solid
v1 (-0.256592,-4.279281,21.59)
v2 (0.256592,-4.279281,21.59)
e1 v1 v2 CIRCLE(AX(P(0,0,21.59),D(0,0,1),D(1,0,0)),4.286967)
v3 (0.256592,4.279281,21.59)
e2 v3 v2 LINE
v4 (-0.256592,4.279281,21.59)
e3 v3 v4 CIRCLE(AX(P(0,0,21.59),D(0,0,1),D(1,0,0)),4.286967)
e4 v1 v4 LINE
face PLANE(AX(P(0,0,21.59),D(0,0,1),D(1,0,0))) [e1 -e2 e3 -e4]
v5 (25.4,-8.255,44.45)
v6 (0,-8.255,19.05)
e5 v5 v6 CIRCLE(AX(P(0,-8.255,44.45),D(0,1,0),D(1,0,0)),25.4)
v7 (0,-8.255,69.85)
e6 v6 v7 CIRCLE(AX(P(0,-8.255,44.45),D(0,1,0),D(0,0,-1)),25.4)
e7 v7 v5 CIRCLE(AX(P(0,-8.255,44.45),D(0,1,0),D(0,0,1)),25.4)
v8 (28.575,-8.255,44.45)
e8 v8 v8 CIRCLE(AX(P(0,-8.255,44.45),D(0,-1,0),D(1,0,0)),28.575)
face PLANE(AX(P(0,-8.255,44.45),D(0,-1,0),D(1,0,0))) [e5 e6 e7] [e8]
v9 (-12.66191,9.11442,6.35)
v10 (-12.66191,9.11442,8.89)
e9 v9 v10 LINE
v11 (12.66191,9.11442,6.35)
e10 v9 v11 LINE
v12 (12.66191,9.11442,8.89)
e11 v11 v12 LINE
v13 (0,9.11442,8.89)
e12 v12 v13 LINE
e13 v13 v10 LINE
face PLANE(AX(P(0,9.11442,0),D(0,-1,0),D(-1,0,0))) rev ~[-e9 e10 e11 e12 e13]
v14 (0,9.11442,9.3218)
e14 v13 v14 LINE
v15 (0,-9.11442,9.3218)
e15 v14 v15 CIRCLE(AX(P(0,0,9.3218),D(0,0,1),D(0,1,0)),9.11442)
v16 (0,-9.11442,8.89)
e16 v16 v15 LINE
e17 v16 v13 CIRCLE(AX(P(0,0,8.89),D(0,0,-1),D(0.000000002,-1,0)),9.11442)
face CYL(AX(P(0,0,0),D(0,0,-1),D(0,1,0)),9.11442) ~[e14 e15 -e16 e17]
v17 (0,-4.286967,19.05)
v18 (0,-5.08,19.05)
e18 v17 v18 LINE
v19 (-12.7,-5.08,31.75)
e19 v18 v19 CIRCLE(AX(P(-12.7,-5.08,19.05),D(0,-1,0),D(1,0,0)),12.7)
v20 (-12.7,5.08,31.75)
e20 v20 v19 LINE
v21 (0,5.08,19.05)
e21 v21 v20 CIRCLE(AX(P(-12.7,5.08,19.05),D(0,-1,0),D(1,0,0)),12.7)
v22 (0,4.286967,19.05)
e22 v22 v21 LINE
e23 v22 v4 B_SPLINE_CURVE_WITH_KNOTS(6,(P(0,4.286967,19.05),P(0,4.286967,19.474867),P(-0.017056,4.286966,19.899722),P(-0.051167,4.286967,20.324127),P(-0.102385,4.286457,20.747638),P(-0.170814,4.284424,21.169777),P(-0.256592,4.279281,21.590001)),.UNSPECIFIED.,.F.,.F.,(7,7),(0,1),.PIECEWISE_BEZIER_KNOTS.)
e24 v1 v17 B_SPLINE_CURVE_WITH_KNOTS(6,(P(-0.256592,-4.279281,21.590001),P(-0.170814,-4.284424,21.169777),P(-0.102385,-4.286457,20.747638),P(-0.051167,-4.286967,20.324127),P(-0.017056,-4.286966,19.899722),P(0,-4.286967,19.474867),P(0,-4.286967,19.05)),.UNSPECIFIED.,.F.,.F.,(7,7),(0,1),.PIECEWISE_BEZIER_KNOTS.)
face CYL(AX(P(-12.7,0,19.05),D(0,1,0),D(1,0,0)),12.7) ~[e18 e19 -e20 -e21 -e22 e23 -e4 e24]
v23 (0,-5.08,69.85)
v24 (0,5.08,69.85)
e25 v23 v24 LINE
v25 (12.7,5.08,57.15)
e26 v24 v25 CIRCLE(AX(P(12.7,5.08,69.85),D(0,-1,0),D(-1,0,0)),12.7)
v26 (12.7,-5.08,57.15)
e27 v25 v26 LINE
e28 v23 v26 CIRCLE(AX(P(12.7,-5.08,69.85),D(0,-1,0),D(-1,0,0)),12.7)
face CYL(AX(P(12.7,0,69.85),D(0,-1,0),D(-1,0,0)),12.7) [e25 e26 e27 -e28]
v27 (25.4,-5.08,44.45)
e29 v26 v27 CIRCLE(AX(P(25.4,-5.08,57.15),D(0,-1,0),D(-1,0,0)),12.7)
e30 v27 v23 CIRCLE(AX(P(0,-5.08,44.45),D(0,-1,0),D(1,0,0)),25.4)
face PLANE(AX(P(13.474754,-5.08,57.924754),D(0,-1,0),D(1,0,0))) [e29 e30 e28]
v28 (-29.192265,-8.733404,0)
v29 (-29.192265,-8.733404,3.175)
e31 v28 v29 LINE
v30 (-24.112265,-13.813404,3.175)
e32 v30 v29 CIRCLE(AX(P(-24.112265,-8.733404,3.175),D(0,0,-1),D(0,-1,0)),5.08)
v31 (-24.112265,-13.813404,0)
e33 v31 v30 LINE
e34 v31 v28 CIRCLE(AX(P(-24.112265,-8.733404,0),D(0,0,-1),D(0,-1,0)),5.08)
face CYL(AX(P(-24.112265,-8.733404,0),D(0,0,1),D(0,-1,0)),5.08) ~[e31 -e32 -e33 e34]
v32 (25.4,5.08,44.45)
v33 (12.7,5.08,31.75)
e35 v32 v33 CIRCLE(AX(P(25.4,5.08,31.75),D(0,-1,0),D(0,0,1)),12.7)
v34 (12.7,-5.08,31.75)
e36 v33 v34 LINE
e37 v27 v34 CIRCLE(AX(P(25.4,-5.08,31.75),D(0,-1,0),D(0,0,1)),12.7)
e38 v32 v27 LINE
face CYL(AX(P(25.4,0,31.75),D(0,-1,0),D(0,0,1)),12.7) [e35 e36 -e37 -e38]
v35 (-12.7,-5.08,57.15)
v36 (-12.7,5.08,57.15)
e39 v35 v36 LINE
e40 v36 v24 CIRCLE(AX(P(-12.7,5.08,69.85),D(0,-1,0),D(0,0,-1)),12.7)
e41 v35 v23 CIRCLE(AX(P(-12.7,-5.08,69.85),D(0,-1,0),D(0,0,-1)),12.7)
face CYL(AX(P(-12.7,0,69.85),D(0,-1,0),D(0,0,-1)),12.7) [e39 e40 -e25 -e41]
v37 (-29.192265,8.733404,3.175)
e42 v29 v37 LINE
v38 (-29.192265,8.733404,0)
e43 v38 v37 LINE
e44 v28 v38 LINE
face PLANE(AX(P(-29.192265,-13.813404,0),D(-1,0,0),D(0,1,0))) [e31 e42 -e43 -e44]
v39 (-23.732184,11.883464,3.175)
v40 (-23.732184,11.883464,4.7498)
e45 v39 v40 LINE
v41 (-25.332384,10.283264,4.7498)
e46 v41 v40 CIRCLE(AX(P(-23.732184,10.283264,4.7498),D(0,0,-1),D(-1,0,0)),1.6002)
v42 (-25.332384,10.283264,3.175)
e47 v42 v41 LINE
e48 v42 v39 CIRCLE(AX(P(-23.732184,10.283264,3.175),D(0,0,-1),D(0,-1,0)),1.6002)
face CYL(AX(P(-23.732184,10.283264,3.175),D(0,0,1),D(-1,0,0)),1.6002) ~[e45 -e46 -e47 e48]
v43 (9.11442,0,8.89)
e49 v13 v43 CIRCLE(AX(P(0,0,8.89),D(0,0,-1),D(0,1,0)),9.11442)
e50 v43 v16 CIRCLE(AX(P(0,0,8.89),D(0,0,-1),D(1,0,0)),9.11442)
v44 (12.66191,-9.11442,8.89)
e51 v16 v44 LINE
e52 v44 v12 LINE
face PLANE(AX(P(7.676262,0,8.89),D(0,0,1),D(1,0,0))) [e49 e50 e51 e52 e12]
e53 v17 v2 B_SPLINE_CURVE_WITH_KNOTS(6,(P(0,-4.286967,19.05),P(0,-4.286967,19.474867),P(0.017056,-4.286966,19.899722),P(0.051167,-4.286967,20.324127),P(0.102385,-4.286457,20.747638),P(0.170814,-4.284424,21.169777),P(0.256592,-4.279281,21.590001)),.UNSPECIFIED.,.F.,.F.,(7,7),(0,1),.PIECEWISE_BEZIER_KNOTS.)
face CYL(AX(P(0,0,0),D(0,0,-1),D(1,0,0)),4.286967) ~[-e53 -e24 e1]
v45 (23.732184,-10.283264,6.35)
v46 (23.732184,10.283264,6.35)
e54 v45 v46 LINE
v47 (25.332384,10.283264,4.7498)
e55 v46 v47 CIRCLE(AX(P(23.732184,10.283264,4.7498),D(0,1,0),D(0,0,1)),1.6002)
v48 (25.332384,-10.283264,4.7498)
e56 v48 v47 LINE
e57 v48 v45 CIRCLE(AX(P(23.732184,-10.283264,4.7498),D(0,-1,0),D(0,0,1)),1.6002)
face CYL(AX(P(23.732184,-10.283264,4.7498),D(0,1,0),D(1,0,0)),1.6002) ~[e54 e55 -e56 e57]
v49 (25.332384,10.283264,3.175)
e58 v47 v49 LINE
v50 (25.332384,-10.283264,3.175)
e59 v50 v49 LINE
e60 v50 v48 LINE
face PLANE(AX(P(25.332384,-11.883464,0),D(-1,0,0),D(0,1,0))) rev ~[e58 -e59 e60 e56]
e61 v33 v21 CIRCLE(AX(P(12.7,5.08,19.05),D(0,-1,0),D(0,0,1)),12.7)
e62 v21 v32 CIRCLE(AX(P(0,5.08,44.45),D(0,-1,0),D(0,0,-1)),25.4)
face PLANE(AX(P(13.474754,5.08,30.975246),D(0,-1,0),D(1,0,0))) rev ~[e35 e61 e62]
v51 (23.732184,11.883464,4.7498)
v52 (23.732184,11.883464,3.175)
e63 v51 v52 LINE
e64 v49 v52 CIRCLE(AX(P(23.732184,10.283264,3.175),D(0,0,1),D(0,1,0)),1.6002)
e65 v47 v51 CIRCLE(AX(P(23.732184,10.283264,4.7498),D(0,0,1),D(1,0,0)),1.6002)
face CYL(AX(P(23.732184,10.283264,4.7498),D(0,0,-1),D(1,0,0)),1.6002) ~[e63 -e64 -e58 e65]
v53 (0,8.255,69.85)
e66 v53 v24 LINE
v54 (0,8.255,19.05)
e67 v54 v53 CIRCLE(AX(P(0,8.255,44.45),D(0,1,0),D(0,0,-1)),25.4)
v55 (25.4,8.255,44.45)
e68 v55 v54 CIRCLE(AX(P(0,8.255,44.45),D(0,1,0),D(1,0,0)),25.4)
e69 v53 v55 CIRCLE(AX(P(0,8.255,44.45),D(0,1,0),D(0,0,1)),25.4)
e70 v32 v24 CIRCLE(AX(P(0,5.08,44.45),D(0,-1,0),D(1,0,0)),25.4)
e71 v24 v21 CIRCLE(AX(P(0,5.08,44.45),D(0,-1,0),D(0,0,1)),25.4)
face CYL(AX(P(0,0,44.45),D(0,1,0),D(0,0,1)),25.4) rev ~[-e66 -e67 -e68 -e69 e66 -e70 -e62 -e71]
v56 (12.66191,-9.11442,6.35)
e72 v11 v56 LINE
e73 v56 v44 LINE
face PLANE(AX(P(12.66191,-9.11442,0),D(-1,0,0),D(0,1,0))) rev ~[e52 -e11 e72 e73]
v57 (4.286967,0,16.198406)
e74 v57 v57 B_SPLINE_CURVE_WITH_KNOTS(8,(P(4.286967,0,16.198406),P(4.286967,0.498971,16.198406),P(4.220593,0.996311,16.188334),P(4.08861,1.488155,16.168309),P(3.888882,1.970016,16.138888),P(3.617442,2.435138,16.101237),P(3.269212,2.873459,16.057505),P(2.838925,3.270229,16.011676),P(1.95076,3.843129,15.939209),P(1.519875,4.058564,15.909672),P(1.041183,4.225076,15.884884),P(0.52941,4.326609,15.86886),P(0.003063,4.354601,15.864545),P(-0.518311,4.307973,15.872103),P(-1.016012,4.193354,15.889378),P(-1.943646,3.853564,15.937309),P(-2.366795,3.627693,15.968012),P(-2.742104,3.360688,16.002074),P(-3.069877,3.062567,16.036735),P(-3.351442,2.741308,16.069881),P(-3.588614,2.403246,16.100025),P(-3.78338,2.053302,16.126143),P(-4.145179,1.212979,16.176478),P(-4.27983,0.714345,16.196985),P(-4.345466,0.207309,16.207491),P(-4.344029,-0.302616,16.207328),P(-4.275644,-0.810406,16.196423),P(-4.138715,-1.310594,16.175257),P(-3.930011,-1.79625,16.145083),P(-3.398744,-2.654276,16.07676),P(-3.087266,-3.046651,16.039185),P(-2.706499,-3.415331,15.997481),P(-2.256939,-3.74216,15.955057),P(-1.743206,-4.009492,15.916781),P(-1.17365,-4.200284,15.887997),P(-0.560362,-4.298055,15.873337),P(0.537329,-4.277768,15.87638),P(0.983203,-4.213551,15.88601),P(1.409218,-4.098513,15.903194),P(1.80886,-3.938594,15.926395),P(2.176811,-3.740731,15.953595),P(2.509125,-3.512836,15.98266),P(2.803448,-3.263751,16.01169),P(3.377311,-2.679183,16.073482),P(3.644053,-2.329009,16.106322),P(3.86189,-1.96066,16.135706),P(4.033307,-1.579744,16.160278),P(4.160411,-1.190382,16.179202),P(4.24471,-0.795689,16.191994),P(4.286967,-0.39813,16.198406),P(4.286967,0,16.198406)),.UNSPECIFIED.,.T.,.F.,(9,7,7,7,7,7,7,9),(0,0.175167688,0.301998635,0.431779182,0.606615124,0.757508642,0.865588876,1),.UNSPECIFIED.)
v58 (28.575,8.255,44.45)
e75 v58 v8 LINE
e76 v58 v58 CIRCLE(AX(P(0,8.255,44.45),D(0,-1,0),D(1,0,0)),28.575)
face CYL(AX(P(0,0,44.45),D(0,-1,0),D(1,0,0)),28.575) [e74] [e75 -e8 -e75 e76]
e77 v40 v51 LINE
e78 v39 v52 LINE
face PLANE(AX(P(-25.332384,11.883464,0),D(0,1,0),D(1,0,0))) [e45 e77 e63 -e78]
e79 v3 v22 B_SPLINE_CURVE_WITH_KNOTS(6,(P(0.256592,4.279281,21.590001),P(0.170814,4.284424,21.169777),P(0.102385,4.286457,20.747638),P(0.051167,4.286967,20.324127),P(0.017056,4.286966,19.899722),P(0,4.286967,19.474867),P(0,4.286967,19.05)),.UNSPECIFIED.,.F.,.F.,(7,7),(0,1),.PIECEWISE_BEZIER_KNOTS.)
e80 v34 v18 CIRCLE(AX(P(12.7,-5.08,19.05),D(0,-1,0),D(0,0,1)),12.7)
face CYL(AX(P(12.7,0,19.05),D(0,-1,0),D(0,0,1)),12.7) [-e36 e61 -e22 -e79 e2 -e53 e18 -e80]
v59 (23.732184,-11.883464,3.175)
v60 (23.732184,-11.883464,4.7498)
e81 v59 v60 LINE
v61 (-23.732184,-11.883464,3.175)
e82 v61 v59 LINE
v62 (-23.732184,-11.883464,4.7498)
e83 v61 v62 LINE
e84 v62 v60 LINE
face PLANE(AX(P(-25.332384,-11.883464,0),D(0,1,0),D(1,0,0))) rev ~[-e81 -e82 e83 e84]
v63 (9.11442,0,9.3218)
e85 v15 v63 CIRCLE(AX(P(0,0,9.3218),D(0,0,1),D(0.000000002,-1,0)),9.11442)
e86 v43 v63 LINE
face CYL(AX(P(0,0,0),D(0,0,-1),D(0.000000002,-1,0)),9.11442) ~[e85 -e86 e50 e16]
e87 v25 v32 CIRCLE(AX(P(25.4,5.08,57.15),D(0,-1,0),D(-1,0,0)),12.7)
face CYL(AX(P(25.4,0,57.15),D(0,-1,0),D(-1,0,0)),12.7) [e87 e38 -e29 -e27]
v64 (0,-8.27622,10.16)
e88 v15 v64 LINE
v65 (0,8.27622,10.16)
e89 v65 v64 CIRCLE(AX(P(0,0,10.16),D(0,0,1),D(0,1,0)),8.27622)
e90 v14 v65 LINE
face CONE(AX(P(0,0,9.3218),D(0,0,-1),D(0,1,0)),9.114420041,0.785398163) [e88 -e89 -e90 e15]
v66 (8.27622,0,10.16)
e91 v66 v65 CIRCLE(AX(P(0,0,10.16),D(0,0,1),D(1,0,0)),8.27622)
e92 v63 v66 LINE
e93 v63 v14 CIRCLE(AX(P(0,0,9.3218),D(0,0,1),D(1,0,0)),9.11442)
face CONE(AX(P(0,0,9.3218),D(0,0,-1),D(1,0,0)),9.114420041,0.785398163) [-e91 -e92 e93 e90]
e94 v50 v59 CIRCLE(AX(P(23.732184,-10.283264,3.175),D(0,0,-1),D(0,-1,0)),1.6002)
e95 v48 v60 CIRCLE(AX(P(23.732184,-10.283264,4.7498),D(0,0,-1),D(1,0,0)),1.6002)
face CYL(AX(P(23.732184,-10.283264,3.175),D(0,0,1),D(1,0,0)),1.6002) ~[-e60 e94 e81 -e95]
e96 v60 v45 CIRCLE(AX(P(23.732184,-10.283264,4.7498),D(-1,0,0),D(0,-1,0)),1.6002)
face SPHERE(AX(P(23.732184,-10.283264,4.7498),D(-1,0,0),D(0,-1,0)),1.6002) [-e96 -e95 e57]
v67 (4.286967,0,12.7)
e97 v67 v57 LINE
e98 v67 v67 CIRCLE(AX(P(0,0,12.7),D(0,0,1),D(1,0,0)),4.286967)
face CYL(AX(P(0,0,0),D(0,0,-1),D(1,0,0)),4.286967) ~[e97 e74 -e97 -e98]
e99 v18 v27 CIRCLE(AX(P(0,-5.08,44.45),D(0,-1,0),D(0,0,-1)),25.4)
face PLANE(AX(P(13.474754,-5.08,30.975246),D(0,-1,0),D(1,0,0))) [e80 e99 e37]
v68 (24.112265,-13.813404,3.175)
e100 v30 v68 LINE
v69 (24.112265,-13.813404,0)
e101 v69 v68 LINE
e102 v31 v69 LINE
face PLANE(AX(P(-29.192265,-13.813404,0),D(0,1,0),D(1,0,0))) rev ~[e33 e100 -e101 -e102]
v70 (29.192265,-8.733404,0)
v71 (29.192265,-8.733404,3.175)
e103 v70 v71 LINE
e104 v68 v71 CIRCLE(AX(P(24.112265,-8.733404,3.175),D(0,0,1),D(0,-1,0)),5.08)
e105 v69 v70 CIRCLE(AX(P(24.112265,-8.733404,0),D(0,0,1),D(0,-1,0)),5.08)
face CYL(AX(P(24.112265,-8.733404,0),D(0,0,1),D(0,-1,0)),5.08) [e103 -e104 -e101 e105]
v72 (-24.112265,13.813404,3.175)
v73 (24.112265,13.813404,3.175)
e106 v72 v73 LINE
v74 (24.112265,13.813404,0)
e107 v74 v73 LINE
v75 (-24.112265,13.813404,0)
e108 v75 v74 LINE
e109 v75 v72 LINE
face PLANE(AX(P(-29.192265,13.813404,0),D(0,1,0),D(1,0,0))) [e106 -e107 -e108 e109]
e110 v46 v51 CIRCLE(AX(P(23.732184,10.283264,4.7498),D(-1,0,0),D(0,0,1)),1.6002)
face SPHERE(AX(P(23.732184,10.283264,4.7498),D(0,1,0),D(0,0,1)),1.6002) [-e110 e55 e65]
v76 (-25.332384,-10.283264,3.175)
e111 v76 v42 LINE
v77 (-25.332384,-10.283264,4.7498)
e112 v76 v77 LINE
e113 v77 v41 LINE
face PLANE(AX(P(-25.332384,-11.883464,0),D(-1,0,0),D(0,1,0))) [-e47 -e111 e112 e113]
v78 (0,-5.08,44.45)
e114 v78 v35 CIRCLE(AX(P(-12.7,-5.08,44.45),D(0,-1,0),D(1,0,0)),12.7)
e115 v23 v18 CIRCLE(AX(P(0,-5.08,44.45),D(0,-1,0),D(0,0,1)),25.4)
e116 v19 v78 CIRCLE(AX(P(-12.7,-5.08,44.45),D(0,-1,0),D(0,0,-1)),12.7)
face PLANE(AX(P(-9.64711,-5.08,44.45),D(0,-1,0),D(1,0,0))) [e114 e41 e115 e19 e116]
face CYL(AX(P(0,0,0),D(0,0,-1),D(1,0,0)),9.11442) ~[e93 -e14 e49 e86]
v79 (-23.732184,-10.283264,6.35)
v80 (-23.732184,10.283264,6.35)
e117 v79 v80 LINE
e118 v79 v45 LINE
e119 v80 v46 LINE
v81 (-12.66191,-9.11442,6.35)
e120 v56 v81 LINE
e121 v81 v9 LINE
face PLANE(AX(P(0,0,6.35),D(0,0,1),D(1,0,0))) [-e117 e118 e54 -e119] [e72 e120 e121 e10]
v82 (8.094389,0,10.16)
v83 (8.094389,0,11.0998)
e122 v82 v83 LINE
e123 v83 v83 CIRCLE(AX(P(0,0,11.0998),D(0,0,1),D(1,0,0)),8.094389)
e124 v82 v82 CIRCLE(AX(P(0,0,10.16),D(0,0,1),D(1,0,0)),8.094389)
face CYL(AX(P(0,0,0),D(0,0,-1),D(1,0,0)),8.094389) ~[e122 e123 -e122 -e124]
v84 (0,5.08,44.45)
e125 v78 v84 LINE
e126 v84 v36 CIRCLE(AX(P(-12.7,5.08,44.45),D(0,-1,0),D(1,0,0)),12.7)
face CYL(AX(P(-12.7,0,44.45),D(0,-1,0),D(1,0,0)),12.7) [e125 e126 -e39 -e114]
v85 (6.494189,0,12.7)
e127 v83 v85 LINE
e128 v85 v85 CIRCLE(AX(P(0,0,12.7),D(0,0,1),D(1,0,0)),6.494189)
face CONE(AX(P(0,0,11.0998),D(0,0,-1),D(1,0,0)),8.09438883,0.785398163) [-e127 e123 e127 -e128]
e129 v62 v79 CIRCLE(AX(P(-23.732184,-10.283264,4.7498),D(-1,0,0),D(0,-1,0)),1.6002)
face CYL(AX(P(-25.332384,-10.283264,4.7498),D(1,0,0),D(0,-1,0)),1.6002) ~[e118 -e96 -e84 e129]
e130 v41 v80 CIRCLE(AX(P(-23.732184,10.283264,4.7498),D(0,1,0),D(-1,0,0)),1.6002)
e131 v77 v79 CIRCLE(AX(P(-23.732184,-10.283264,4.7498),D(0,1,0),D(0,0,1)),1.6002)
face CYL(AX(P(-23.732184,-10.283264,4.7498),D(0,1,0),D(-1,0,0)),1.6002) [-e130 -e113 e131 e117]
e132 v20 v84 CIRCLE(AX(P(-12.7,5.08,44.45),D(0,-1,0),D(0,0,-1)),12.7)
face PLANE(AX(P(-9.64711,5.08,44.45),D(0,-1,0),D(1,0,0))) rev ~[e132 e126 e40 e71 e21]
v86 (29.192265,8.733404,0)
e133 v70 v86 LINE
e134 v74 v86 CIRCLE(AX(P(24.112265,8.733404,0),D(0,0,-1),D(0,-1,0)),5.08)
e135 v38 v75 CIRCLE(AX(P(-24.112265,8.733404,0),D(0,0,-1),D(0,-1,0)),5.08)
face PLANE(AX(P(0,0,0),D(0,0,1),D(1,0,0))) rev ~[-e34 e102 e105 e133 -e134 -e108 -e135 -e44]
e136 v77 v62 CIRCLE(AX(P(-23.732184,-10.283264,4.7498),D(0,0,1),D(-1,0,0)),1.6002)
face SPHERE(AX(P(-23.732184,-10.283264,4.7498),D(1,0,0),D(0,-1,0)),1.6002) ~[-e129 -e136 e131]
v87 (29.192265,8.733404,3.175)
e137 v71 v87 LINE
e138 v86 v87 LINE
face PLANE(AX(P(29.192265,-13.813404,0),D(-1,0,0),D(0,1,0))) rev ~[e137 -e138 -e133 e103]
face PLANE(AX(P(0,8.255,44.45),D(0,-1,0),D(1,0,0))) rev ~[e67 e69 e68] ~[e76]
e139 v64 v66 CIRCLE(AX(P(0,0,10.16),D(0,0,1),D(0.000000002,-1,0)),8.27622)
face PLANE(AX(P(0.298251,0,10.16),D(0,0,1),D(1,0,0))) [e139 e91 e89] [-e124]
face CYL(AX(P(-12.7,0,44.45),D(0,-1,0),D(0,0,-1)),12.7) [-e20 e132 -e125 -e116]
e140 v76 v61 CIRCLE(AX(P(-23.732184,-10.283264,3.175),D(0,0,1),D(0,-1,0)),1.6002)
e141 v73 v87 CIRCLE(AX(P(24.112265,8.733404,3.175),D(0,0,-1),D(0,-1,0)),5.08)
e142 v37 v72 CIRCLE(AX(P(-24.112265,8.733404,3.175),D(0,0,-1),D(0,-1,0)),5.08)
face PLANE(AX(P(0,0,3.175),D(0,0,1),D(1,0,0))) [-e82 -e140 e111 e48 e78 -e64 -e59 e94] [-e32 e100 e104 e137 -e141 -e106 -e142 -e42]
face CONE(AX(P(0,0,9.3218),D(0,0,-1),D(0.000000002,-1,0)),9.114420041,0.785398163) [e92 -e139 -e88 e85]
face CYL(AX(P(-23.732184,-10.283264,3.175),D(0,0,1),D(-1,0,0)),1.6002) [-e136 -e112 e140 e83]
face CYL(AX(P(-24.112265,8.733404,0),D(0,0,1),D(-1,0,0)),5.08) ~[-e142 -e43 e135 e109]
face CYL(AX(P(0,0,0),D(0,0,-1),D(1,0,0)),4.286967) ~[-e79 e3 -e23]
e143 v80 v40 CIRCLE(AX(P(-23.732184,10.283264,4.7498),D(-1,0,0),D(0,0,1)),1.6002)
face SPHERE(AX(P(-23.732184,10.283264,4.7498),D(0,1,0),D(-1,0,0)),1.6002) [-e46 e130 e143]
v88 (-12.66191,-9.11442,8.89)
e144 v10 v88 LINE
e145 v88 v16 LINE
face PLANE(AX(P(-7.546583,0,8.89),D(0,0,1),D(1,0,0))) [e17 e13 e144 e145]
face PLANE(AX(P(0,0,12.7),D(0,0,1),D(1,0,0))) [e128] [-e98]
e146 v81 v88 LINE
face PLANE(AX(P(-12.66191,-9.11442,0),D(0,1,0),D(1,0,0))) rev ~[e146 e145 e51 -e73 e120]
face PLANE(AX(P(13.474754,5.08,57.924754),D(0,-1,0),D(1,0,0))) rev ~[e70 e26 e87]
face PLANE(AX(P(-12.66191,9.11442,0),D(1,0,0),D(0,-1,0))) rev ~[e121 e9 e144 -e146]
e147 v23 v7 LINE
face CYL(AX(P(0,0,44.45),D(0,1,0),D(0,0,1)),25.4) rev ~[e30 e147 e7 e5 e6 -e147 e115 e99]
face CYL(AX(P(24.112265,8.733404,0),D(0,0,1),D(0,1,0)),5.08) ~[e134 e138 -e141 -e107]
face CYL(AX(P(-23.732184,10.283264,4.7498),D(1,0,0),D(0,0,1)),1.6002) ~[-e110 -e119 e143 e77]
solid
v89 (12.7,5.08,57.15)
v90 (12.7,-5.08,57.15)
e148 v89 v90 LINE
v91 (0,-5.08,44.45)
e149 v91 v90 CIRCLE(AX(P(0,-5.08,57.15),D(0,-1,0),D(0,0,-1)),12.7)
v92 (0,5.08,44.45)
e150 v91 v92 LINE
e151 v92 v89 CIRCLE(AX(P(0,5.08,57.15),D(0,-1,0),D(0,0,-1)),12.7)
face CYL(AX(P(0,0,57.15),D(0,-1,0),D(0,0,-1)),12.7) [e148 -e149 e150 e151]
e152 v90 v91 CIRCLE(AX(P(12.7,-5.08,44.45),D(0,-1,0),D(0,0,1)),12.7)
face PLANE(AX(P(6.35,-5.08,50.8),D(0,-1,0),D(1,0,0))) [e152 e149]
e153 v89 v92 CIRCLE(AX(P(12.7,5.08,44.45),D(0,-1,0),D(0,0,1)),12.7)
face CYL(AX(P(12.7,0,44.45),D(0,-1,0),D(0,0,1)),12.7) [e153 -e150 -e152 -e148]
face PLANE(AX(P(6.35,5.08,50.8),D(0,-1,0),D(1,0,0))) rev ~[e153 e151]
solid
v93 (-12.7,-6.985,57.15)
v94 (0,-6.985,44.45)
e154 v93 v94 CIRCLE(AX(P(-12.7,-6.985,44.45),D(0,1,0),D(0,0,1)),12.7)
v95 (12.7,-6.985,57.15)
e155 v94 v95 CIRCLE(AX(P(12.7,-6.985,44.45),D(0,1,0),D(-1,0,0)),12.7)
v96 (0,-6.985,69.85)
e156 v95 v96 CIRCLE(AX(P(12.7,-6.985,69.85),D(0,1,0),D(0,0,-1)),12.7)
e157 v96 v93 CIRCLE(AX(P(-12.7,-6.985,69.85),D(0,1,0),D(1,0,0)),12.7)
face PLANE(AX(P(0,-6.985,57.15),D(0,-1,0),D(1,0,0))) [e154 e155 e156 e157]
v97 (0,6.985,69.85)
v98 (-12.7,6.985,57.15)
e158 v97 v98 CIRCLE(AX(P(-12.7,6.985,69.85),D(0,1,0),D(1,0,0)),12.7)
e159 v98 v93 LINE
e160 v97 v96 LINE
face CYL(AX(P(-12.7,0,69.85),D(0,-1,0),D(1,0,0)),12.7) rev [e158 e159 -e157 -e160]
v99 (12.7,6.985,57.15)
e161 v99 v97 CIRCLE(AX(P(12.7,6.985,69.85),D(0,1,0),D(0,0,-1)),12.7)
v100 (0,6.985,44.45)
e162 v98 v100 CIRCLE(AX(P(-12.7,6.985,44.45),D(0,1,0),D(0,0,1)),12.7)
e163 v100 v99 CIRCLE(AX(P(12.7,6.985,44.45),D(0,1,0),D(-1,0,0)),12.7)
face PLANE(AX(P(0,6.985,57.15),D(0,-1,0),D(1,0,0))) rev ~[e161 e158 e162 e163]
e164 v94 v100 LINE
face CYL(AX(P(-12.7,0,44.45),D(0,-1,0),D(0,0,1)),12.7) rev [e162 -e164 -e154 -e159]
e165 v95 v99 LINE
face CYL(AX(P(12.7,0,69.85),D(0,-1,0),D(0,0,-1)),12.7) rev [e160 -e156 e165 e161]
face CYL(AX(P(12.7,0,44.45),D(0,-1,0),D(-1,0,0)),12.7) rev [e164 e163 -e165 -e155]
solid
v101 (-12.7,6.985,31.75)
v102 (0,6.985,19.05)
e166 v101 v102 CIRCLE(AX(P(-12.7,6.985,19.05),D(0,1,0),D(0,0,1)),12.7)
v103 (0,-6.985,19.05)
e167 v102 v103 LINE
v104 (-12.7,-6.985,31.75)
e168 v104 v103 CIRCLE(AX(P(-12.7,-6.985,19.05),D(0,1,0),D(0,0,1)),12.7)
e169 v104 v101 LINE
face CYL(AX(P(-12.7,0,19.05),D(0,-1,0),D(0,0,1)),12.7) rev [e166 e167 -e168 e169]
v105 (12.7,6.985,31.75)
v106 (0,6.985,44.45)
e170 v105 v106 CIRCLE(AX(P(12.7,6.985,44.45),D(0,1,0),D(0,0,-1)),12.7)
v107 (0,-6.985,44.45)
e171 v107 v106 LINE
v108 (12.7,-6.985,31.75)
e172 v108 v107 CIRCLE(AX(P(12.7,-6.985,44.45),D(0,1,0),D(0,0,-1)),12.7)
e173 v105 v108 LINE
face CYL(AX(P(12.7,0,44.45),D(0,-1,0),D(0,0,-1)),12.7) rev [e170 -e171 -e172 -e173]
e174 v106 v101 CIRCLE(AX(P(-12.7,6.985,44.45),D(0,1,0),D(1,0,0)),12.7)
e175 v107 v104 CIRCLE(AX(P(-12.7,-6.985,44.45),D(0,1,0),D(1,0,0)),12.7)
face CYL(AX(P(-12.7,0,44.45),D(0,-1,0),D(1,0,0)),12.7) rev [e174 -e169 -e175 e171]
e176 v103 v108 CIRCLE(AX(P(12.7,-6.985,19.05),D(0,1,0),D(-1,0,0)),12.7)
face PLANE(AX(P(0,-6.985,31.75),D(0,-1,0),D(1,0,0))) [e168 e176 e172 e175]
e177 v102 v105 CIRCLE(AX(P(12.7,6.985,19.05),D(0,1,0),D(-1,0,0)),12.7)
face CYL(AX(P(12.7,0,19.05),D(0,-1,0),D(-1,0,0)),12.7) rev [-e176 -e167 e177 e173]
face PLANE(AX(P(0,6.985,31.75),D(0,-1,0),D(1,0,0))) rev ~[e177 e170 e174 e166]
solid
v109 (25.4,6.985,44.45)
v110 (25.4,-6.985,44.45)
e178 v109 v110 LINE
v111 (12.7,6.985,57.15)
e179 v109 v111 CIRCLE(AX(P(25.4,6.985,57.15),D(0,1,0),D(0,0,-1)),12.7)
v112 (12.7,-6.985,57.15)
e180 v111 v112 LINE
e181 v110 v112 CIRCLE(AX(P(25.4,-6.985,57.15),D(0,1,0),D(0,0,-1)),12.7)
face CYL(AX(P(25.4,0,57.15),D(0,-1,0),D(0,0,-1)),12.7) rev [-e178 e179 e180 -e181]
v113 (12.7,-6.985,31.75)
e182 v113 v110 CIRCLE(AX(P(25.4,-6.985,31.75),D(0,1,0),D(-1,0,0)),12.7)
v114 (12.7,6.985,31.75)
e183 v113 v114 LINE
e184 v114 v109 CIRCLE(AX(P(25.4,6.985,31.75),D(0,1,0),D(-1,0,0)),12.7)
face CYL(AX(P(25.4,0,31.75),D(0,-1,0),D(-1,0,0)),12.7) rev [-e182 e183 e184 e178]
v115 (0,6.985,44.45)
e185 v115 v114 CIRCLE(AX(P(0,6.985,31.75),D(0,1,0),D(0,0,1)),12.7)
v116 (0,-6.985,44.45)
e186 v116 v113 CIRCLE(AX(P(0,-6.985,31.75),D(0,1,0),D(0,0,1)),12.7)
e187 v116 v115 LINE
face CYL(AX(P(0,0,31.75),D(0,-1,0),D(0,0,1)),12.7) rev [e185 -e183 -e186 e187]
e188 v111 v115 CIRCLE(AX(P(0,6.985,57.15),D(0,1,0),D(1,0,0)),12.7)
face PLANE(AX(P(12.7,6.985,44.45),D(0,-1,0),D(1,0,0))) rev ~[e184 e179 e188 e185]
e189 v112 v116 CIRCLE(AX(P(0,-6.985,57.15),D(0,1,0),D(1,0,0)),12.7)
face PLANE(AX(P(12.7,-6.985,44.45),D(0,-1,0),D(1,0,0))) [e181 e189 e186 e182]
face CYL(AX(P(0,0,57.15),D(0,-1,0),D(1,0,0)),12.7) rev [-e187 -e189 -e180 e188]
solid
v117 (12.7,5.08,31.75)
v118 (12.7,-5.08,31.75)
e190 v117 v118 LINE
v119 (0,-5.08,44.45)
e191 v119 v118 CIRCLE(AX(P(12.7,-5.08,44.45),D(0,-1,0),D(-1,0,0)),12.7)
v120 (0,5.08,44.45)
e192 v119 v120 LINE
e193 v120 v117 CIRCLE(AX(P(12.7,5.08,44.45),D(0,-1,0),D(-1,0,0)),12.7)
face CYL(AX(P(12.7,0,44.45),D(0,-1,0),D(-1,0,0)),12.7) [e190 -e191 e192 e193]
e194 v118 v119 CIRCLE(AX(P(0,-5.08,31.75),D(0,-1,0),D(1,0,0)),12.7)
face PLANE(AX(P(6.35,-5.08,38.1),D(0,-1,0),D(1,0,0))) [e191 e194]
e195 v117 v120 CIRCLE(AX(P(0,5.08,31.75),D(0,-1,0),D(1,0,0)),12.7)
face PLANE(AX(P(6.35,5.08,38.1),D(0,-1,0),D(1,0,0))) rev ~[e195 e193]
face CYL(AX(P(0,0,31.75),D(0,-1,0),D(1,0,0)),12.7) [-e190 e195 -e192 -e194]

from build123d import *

# Parameters (mm, degrees)
F1_R      = 4.2869666311
F2_DEPTH  = 21.59
F1_R_2    = 8.0943888298
F3_DEPTH  = 12.7
F4_DEPTH  = 10.16
F5_DEPTH  = 8.89
F1_W      = 50.6647676229
F1_H      = 23.7669274211
F6_DEPTH  = 6.35
F1_W_2    = 58.3845302463
F1_H_2    = 27.6268087327
F7_DEPTH  = 3.175
F8_R      = 1.6002
F9_R      = 1.6002
F10_R     = 1.6002
F11_R     = 1.6002
F12_SIZE  = 0.8382
F13_SIZE  = 1.6002
F14_R     = 5.08
F15_R     = 5.08
F16_R     = 5.08
F17_R     = 5.08
F0_R      = 28.575
F18_DEPTH = 8.255
F19_DEPTH = 5.08
F20_DEPTH = 6.985


with BuildPart() as f2:
    # F1 (on Top) → F2 (new body)
    with BuildSketch(Plane.XY):
        Circle(F1_R)
    extrude(amount=F2_DEPTH)

    # F1 (on Top) → F3 (join)
    with BuildSketch(Plane.XY):
        Circle(F1_R_2)
        Circle(F1_R, mode=Mode.SUBTRACT)
    extrude(amount=F3_DEPTH)

    # F1 (on Top) → F4 (join)
    with BuildSketch(Plane.XY):
        with BuildLine():
            ThreePointArc((0, 9.1144200414), (-9.1144200414, -7.9e-09), (1.57e-08, -9.1144200414))
            ThreePointArc((1.57e-08, -9.1144200414), (6.4448682235, -6.4448682123), (9.1144200414, 0))
            ThreePointArc((9.1144200414, 0), (6.4448682179, 6.4448682179), (0, 9.1144200414))
        make_face()
        Circle(F1_R_2, mode=Mode.SUBTRACT)
    extrude(amount=F4_DEPTH)

    # F1 (on Top) → F5 (join)
    with BuildSketch(Plane.XY):
        with BuildLine():
            Line((-12.6619096845, -9.1144200414), (1.57e-08, -9.1144200414))
            ThreePointArc((1.57e-08, -9.1144200414), (-9.1144200414, -7.9e-09), (0, 9.1144200414))
            Line((0, 9.1144200414), (-12.6619096845, 9.1144200414))
            Line((-12.6619096845, 9.1144200414), (-12.6619096845, -9.1144200414))
        make_face()
        with BuildLine():
            Line((1.57e-08, -9.1144200414), (12.6619096845, -9.1144200414))
            Line((12.6619096845, -9.1144200414), (12.6619096845, 9.1144200414))
            Line((12.6619096845, 9.1144200414), (0, 9.1144200414))
            ThreePointArc((0, 9.1144200414), (6.4448682179, 6.4448682179), (9.1144200414, 0))
            ThreePointArc((9.1144200414, 0), (6.4448682235, -6.4448682123), (1.57e-08, -9.1144200414))
        make_face()
    extrude(amount=F5_DEPTH)

    # F1 (on Top) → F6 (join)
    with BuildSketch(Plane.XY):
        Rectangle(F1_W, F1_H)
        Polygon((12.6619096845, 9.1144200414), (12.6619096845, -9.1144200414), (1.57e-08, -9.1144200414), (-12.6619096845, -9.1144200414), (-12.6619096845, 9.1144200414), (0, 9.1144200414), align=None, mode=Mode.SUBTRACT)
    extrude(amount=F6_DEPTH)

    # F1 (on Top) → F7 (join)
    with BuildSketch(Plane.XY):
        Rectangle(F1_W_2, F1_H_2)
        Rectangle(F1_W, F1_H, mode=Mode.SUBTRACT)
    extrude(amount=F7_DEPTH)

    # F8
    f8_edges = [f2.edges().sort_by_distance(p)[0] for p in [
        (0, -11.883464, 6.35),
    ]]
    fillet(f8_edges, radius=F8_R)

    # F9
    f9_edges = [f2.edges().sort_by_distance(p)[0] for p in [
        (-25.332384, 0.8001, 6.35),
    ]]
    fillet(f9_edges, radius=F9_R)

    # F10
    f10_edges = [f2.edges().sort_by_distance(p)[0] for p in [
        (25.332384, 0.8001, 6.35),
    ]]
    fillet(f10_edges, radius=F10_R)

    # F11
    f11_edges = [f2.edges().sort_by_distance(p)[0] for p in [
        (0, 11.883464, 6.35),
    ]]
    fillet(f11_edges, radius=F11_R)

    # F12
    f12_edges = [f2.edges().sort_by_distance(p)[0] for p in [
        (0, 9.11442, 10.16),
    ]]
    chamfer(f12_edges, length=F12_SIZE)

    # F13
    f13_edges = [f2.edges().sort_by_distance(p)[0] for p in [
        (-8.094389, 0, 12.7),
    ]]
    chamfer(f13_edges, length=F13_SIZE)

    # F14
    f14_edges = [f2.edges().sort_by_distance(p)[0] for p in [
        (29.192265, -13.813404, 1.5875),
    ]]
    fillet(f14_edges, radius=F14_R)

    # F15
    f15_edges = [f2.edges().sort_by_distance(p)[0] for p in [
        (-29.192265, -13.813404, 1.5875),
    ]]
    fillet(f15_edges, radius=F15_R)

    # F16
    f16_edges = [f2.edges().sort_by_distance(p)[0] for p in [
        (-29.192265, 13.813404, 1.5875),
    ]]
    fillet(f16_edges, radius=F16_R)

    # F17
    f17_edges = [f2.edges().sort_by_distance(p)[0] for p in [
        (29.192265, 13.813404, 1.5875),
    ]]
    fillet(f17_edges, radius=F17_R)

    # F0 (on Front) → F18 (join, symmetric)
    with BuildSketch(Plane.XZ):
        with Locations((0, 44.45)):
            Circle(F0_R)
        with BuildLine():
            ThreePointArc((0, 69.85), (17.9605122421, 62.4105122421), (25.4, 44.45))
            ThreePointArc((25.4, 44.45), (17.9605122421, 26.4894877579), (0, 19.05))
            ThreePointArc((0, 19.05), (-25.4, 44.45), (0, 69.85))
        make_face(mode=Mode.SUBTRACT)
    extrude(amount=F18_DEPTH, both=True)



with BuildPart() as f19:
    # F0 (on Front) → F19 (new body, symmetric)
    with BuildSketch(Plane.XZ):
        with BuildLine():
            ThreePointArc((0, 44.45), (8.9802561211, 48.1697438789), (12.7, 57.15))
            ThreePointArc((12.7, 57.15), (3.7197438789, 53.4302561211), (0, 44.45))
        make_face()
    extrude(amount=F19_DEPTH, both=True)

    # F0 (on Front) → F19, piece 2 (join, symmetric)
    with BuildSketch(Plane.XZ):
        with BuildLine():
            ThreePointArc((0, 44.45), (3.7197438789, 35.4697438789), (12.7, 31.75))
            ThreePointArc((12.7, 31.75), (8.9802561211, 40.7302561211), (0, 44.45))
        make_face()
    extrude(amount=F19_DEPTH, both=True)


with BuildPart() as f2_1:
    add(f2.part)

    add(f19.part)  # F19#3 merges F19
    # F0 (on Front) → F19, piece 3 (join, symmetric)
    with BuildSketch(Plane.XZ):
        with BuildLine():
            ThreePointArc((-12.7, 57.15), (-3.7197438789, 60.8697438789), (0, 69.85))
            ThreePointArc((0, 69.85), (-25.4, 44.45), (0, 19.05))
            ThreePointArc((0, 19.05), (-3.7197438789, 28.0302561211), (-12.7, 31.75))
            ThreePointArc((-12.7, 31.75), (-3.7197438789, 35.4697438789), (0, 44.45))
            ThreePointArc((0, 44.45), (-3.7197438789, 53.4302561211), (-12.7, 57.15))
        make_face()
        with BuildLine():
            ThreePointArc((0, 19.05), (17.9605122421, 26.4894877579), (25.4, 44.45))
            ThreePointArc((25.4, 44.45), (16.4197438789, 40.7302561211), (12.7, 31.75))
            ThreePointArc((12.7, 31.75), (3.7197438789, 28.0302561211), (0, 19.05))
        make_face()
        with BuildLine():
            ThreePointArc((12.7, 57.15), (16.4197438789, 48.1697438789), (25.4, 44.45))
            ThreePointArc((25.4, 44.45), (17.9605122421, 62.4105122421), (0, 69.85))
            ThreePointArc((0, 69.85), (3.7197438789, 60.8697438789), (12.7, 57.15))
        make_face()
    extrude(amount=F19_DEPTH, both=True)


with BuildPart() as f20:
    # F0 (on Front) → F20 (new body, symmetric)
    with BuildSketch(Plane.XZ):
        with BuildLine():
            ThreePointArc((12.7, 57.15), (3.7197438789, 60.8697438789), (0, 69.85))
            ThreePointArc((0, 69.85), (-3.7197438789, 60.8697438789), (-12.7, 57.15))
            ThreePointArc((-12.7, 57.15), (-3.7197438789, 53.4302561211), (0, 44.45))
            ThreePointArc((0, 44.45), (3.7197438789, 53.4302561211), (12.7, 57.15))
        make_face()
    extrude(amount=F20_DEPTH, both=True)


with BuildPart() as f20b:
    # F0 (on Front) → F20, piece 2 (new body, symmetric)
    with BuildSketch(Plane.XZ):
        with BuildLine():
            ThreePointArc((12.7, 31.75), (16.4197438789, 40.7302561211), (25.4, 44.45))
            ThreePointArc((25.4, 44.45), (16.4197438789, 48.1697438789), (12.7, 57.15))
            ThreePointArc((12.7, 57.15), (8.9802561211, 48.1697438789), (0, 44.45))
            ThreePointArc((0, 44.45), (8.9802561211, 40.7302561211), (12.7, 31.75))
        make_face()
    extrude(amount=F20_DEPTH, both=True)


with BuildPart() as f20c:
    # F0 (on Front) → F20, piece 3 (new body, symmetric)
    with BuildSketch(Plane.XZ):
        with BuildLine():
            ThreePointArc((-12.7, 31.75), (-3.7197438789, 28.0302561211), (0, 19.05))
            ThreePointArc((0, 19.05), (3.7197438789, 28.0302561211), (12.7, 31.75))
            ThreePointArc((12.7, 31.75), (3.7197438789, 35.4697438789), (0, 44.45))
            ThreePointArc((0, 44.45), (-3.7197438789, 35.4697438789), (-12.7, 31.75))
        make_face()
    extrude(amount=F20_DEPTH, both=True)


solid = Compound([f2_1.part, f20.part, f20b.part, f20c.part])
